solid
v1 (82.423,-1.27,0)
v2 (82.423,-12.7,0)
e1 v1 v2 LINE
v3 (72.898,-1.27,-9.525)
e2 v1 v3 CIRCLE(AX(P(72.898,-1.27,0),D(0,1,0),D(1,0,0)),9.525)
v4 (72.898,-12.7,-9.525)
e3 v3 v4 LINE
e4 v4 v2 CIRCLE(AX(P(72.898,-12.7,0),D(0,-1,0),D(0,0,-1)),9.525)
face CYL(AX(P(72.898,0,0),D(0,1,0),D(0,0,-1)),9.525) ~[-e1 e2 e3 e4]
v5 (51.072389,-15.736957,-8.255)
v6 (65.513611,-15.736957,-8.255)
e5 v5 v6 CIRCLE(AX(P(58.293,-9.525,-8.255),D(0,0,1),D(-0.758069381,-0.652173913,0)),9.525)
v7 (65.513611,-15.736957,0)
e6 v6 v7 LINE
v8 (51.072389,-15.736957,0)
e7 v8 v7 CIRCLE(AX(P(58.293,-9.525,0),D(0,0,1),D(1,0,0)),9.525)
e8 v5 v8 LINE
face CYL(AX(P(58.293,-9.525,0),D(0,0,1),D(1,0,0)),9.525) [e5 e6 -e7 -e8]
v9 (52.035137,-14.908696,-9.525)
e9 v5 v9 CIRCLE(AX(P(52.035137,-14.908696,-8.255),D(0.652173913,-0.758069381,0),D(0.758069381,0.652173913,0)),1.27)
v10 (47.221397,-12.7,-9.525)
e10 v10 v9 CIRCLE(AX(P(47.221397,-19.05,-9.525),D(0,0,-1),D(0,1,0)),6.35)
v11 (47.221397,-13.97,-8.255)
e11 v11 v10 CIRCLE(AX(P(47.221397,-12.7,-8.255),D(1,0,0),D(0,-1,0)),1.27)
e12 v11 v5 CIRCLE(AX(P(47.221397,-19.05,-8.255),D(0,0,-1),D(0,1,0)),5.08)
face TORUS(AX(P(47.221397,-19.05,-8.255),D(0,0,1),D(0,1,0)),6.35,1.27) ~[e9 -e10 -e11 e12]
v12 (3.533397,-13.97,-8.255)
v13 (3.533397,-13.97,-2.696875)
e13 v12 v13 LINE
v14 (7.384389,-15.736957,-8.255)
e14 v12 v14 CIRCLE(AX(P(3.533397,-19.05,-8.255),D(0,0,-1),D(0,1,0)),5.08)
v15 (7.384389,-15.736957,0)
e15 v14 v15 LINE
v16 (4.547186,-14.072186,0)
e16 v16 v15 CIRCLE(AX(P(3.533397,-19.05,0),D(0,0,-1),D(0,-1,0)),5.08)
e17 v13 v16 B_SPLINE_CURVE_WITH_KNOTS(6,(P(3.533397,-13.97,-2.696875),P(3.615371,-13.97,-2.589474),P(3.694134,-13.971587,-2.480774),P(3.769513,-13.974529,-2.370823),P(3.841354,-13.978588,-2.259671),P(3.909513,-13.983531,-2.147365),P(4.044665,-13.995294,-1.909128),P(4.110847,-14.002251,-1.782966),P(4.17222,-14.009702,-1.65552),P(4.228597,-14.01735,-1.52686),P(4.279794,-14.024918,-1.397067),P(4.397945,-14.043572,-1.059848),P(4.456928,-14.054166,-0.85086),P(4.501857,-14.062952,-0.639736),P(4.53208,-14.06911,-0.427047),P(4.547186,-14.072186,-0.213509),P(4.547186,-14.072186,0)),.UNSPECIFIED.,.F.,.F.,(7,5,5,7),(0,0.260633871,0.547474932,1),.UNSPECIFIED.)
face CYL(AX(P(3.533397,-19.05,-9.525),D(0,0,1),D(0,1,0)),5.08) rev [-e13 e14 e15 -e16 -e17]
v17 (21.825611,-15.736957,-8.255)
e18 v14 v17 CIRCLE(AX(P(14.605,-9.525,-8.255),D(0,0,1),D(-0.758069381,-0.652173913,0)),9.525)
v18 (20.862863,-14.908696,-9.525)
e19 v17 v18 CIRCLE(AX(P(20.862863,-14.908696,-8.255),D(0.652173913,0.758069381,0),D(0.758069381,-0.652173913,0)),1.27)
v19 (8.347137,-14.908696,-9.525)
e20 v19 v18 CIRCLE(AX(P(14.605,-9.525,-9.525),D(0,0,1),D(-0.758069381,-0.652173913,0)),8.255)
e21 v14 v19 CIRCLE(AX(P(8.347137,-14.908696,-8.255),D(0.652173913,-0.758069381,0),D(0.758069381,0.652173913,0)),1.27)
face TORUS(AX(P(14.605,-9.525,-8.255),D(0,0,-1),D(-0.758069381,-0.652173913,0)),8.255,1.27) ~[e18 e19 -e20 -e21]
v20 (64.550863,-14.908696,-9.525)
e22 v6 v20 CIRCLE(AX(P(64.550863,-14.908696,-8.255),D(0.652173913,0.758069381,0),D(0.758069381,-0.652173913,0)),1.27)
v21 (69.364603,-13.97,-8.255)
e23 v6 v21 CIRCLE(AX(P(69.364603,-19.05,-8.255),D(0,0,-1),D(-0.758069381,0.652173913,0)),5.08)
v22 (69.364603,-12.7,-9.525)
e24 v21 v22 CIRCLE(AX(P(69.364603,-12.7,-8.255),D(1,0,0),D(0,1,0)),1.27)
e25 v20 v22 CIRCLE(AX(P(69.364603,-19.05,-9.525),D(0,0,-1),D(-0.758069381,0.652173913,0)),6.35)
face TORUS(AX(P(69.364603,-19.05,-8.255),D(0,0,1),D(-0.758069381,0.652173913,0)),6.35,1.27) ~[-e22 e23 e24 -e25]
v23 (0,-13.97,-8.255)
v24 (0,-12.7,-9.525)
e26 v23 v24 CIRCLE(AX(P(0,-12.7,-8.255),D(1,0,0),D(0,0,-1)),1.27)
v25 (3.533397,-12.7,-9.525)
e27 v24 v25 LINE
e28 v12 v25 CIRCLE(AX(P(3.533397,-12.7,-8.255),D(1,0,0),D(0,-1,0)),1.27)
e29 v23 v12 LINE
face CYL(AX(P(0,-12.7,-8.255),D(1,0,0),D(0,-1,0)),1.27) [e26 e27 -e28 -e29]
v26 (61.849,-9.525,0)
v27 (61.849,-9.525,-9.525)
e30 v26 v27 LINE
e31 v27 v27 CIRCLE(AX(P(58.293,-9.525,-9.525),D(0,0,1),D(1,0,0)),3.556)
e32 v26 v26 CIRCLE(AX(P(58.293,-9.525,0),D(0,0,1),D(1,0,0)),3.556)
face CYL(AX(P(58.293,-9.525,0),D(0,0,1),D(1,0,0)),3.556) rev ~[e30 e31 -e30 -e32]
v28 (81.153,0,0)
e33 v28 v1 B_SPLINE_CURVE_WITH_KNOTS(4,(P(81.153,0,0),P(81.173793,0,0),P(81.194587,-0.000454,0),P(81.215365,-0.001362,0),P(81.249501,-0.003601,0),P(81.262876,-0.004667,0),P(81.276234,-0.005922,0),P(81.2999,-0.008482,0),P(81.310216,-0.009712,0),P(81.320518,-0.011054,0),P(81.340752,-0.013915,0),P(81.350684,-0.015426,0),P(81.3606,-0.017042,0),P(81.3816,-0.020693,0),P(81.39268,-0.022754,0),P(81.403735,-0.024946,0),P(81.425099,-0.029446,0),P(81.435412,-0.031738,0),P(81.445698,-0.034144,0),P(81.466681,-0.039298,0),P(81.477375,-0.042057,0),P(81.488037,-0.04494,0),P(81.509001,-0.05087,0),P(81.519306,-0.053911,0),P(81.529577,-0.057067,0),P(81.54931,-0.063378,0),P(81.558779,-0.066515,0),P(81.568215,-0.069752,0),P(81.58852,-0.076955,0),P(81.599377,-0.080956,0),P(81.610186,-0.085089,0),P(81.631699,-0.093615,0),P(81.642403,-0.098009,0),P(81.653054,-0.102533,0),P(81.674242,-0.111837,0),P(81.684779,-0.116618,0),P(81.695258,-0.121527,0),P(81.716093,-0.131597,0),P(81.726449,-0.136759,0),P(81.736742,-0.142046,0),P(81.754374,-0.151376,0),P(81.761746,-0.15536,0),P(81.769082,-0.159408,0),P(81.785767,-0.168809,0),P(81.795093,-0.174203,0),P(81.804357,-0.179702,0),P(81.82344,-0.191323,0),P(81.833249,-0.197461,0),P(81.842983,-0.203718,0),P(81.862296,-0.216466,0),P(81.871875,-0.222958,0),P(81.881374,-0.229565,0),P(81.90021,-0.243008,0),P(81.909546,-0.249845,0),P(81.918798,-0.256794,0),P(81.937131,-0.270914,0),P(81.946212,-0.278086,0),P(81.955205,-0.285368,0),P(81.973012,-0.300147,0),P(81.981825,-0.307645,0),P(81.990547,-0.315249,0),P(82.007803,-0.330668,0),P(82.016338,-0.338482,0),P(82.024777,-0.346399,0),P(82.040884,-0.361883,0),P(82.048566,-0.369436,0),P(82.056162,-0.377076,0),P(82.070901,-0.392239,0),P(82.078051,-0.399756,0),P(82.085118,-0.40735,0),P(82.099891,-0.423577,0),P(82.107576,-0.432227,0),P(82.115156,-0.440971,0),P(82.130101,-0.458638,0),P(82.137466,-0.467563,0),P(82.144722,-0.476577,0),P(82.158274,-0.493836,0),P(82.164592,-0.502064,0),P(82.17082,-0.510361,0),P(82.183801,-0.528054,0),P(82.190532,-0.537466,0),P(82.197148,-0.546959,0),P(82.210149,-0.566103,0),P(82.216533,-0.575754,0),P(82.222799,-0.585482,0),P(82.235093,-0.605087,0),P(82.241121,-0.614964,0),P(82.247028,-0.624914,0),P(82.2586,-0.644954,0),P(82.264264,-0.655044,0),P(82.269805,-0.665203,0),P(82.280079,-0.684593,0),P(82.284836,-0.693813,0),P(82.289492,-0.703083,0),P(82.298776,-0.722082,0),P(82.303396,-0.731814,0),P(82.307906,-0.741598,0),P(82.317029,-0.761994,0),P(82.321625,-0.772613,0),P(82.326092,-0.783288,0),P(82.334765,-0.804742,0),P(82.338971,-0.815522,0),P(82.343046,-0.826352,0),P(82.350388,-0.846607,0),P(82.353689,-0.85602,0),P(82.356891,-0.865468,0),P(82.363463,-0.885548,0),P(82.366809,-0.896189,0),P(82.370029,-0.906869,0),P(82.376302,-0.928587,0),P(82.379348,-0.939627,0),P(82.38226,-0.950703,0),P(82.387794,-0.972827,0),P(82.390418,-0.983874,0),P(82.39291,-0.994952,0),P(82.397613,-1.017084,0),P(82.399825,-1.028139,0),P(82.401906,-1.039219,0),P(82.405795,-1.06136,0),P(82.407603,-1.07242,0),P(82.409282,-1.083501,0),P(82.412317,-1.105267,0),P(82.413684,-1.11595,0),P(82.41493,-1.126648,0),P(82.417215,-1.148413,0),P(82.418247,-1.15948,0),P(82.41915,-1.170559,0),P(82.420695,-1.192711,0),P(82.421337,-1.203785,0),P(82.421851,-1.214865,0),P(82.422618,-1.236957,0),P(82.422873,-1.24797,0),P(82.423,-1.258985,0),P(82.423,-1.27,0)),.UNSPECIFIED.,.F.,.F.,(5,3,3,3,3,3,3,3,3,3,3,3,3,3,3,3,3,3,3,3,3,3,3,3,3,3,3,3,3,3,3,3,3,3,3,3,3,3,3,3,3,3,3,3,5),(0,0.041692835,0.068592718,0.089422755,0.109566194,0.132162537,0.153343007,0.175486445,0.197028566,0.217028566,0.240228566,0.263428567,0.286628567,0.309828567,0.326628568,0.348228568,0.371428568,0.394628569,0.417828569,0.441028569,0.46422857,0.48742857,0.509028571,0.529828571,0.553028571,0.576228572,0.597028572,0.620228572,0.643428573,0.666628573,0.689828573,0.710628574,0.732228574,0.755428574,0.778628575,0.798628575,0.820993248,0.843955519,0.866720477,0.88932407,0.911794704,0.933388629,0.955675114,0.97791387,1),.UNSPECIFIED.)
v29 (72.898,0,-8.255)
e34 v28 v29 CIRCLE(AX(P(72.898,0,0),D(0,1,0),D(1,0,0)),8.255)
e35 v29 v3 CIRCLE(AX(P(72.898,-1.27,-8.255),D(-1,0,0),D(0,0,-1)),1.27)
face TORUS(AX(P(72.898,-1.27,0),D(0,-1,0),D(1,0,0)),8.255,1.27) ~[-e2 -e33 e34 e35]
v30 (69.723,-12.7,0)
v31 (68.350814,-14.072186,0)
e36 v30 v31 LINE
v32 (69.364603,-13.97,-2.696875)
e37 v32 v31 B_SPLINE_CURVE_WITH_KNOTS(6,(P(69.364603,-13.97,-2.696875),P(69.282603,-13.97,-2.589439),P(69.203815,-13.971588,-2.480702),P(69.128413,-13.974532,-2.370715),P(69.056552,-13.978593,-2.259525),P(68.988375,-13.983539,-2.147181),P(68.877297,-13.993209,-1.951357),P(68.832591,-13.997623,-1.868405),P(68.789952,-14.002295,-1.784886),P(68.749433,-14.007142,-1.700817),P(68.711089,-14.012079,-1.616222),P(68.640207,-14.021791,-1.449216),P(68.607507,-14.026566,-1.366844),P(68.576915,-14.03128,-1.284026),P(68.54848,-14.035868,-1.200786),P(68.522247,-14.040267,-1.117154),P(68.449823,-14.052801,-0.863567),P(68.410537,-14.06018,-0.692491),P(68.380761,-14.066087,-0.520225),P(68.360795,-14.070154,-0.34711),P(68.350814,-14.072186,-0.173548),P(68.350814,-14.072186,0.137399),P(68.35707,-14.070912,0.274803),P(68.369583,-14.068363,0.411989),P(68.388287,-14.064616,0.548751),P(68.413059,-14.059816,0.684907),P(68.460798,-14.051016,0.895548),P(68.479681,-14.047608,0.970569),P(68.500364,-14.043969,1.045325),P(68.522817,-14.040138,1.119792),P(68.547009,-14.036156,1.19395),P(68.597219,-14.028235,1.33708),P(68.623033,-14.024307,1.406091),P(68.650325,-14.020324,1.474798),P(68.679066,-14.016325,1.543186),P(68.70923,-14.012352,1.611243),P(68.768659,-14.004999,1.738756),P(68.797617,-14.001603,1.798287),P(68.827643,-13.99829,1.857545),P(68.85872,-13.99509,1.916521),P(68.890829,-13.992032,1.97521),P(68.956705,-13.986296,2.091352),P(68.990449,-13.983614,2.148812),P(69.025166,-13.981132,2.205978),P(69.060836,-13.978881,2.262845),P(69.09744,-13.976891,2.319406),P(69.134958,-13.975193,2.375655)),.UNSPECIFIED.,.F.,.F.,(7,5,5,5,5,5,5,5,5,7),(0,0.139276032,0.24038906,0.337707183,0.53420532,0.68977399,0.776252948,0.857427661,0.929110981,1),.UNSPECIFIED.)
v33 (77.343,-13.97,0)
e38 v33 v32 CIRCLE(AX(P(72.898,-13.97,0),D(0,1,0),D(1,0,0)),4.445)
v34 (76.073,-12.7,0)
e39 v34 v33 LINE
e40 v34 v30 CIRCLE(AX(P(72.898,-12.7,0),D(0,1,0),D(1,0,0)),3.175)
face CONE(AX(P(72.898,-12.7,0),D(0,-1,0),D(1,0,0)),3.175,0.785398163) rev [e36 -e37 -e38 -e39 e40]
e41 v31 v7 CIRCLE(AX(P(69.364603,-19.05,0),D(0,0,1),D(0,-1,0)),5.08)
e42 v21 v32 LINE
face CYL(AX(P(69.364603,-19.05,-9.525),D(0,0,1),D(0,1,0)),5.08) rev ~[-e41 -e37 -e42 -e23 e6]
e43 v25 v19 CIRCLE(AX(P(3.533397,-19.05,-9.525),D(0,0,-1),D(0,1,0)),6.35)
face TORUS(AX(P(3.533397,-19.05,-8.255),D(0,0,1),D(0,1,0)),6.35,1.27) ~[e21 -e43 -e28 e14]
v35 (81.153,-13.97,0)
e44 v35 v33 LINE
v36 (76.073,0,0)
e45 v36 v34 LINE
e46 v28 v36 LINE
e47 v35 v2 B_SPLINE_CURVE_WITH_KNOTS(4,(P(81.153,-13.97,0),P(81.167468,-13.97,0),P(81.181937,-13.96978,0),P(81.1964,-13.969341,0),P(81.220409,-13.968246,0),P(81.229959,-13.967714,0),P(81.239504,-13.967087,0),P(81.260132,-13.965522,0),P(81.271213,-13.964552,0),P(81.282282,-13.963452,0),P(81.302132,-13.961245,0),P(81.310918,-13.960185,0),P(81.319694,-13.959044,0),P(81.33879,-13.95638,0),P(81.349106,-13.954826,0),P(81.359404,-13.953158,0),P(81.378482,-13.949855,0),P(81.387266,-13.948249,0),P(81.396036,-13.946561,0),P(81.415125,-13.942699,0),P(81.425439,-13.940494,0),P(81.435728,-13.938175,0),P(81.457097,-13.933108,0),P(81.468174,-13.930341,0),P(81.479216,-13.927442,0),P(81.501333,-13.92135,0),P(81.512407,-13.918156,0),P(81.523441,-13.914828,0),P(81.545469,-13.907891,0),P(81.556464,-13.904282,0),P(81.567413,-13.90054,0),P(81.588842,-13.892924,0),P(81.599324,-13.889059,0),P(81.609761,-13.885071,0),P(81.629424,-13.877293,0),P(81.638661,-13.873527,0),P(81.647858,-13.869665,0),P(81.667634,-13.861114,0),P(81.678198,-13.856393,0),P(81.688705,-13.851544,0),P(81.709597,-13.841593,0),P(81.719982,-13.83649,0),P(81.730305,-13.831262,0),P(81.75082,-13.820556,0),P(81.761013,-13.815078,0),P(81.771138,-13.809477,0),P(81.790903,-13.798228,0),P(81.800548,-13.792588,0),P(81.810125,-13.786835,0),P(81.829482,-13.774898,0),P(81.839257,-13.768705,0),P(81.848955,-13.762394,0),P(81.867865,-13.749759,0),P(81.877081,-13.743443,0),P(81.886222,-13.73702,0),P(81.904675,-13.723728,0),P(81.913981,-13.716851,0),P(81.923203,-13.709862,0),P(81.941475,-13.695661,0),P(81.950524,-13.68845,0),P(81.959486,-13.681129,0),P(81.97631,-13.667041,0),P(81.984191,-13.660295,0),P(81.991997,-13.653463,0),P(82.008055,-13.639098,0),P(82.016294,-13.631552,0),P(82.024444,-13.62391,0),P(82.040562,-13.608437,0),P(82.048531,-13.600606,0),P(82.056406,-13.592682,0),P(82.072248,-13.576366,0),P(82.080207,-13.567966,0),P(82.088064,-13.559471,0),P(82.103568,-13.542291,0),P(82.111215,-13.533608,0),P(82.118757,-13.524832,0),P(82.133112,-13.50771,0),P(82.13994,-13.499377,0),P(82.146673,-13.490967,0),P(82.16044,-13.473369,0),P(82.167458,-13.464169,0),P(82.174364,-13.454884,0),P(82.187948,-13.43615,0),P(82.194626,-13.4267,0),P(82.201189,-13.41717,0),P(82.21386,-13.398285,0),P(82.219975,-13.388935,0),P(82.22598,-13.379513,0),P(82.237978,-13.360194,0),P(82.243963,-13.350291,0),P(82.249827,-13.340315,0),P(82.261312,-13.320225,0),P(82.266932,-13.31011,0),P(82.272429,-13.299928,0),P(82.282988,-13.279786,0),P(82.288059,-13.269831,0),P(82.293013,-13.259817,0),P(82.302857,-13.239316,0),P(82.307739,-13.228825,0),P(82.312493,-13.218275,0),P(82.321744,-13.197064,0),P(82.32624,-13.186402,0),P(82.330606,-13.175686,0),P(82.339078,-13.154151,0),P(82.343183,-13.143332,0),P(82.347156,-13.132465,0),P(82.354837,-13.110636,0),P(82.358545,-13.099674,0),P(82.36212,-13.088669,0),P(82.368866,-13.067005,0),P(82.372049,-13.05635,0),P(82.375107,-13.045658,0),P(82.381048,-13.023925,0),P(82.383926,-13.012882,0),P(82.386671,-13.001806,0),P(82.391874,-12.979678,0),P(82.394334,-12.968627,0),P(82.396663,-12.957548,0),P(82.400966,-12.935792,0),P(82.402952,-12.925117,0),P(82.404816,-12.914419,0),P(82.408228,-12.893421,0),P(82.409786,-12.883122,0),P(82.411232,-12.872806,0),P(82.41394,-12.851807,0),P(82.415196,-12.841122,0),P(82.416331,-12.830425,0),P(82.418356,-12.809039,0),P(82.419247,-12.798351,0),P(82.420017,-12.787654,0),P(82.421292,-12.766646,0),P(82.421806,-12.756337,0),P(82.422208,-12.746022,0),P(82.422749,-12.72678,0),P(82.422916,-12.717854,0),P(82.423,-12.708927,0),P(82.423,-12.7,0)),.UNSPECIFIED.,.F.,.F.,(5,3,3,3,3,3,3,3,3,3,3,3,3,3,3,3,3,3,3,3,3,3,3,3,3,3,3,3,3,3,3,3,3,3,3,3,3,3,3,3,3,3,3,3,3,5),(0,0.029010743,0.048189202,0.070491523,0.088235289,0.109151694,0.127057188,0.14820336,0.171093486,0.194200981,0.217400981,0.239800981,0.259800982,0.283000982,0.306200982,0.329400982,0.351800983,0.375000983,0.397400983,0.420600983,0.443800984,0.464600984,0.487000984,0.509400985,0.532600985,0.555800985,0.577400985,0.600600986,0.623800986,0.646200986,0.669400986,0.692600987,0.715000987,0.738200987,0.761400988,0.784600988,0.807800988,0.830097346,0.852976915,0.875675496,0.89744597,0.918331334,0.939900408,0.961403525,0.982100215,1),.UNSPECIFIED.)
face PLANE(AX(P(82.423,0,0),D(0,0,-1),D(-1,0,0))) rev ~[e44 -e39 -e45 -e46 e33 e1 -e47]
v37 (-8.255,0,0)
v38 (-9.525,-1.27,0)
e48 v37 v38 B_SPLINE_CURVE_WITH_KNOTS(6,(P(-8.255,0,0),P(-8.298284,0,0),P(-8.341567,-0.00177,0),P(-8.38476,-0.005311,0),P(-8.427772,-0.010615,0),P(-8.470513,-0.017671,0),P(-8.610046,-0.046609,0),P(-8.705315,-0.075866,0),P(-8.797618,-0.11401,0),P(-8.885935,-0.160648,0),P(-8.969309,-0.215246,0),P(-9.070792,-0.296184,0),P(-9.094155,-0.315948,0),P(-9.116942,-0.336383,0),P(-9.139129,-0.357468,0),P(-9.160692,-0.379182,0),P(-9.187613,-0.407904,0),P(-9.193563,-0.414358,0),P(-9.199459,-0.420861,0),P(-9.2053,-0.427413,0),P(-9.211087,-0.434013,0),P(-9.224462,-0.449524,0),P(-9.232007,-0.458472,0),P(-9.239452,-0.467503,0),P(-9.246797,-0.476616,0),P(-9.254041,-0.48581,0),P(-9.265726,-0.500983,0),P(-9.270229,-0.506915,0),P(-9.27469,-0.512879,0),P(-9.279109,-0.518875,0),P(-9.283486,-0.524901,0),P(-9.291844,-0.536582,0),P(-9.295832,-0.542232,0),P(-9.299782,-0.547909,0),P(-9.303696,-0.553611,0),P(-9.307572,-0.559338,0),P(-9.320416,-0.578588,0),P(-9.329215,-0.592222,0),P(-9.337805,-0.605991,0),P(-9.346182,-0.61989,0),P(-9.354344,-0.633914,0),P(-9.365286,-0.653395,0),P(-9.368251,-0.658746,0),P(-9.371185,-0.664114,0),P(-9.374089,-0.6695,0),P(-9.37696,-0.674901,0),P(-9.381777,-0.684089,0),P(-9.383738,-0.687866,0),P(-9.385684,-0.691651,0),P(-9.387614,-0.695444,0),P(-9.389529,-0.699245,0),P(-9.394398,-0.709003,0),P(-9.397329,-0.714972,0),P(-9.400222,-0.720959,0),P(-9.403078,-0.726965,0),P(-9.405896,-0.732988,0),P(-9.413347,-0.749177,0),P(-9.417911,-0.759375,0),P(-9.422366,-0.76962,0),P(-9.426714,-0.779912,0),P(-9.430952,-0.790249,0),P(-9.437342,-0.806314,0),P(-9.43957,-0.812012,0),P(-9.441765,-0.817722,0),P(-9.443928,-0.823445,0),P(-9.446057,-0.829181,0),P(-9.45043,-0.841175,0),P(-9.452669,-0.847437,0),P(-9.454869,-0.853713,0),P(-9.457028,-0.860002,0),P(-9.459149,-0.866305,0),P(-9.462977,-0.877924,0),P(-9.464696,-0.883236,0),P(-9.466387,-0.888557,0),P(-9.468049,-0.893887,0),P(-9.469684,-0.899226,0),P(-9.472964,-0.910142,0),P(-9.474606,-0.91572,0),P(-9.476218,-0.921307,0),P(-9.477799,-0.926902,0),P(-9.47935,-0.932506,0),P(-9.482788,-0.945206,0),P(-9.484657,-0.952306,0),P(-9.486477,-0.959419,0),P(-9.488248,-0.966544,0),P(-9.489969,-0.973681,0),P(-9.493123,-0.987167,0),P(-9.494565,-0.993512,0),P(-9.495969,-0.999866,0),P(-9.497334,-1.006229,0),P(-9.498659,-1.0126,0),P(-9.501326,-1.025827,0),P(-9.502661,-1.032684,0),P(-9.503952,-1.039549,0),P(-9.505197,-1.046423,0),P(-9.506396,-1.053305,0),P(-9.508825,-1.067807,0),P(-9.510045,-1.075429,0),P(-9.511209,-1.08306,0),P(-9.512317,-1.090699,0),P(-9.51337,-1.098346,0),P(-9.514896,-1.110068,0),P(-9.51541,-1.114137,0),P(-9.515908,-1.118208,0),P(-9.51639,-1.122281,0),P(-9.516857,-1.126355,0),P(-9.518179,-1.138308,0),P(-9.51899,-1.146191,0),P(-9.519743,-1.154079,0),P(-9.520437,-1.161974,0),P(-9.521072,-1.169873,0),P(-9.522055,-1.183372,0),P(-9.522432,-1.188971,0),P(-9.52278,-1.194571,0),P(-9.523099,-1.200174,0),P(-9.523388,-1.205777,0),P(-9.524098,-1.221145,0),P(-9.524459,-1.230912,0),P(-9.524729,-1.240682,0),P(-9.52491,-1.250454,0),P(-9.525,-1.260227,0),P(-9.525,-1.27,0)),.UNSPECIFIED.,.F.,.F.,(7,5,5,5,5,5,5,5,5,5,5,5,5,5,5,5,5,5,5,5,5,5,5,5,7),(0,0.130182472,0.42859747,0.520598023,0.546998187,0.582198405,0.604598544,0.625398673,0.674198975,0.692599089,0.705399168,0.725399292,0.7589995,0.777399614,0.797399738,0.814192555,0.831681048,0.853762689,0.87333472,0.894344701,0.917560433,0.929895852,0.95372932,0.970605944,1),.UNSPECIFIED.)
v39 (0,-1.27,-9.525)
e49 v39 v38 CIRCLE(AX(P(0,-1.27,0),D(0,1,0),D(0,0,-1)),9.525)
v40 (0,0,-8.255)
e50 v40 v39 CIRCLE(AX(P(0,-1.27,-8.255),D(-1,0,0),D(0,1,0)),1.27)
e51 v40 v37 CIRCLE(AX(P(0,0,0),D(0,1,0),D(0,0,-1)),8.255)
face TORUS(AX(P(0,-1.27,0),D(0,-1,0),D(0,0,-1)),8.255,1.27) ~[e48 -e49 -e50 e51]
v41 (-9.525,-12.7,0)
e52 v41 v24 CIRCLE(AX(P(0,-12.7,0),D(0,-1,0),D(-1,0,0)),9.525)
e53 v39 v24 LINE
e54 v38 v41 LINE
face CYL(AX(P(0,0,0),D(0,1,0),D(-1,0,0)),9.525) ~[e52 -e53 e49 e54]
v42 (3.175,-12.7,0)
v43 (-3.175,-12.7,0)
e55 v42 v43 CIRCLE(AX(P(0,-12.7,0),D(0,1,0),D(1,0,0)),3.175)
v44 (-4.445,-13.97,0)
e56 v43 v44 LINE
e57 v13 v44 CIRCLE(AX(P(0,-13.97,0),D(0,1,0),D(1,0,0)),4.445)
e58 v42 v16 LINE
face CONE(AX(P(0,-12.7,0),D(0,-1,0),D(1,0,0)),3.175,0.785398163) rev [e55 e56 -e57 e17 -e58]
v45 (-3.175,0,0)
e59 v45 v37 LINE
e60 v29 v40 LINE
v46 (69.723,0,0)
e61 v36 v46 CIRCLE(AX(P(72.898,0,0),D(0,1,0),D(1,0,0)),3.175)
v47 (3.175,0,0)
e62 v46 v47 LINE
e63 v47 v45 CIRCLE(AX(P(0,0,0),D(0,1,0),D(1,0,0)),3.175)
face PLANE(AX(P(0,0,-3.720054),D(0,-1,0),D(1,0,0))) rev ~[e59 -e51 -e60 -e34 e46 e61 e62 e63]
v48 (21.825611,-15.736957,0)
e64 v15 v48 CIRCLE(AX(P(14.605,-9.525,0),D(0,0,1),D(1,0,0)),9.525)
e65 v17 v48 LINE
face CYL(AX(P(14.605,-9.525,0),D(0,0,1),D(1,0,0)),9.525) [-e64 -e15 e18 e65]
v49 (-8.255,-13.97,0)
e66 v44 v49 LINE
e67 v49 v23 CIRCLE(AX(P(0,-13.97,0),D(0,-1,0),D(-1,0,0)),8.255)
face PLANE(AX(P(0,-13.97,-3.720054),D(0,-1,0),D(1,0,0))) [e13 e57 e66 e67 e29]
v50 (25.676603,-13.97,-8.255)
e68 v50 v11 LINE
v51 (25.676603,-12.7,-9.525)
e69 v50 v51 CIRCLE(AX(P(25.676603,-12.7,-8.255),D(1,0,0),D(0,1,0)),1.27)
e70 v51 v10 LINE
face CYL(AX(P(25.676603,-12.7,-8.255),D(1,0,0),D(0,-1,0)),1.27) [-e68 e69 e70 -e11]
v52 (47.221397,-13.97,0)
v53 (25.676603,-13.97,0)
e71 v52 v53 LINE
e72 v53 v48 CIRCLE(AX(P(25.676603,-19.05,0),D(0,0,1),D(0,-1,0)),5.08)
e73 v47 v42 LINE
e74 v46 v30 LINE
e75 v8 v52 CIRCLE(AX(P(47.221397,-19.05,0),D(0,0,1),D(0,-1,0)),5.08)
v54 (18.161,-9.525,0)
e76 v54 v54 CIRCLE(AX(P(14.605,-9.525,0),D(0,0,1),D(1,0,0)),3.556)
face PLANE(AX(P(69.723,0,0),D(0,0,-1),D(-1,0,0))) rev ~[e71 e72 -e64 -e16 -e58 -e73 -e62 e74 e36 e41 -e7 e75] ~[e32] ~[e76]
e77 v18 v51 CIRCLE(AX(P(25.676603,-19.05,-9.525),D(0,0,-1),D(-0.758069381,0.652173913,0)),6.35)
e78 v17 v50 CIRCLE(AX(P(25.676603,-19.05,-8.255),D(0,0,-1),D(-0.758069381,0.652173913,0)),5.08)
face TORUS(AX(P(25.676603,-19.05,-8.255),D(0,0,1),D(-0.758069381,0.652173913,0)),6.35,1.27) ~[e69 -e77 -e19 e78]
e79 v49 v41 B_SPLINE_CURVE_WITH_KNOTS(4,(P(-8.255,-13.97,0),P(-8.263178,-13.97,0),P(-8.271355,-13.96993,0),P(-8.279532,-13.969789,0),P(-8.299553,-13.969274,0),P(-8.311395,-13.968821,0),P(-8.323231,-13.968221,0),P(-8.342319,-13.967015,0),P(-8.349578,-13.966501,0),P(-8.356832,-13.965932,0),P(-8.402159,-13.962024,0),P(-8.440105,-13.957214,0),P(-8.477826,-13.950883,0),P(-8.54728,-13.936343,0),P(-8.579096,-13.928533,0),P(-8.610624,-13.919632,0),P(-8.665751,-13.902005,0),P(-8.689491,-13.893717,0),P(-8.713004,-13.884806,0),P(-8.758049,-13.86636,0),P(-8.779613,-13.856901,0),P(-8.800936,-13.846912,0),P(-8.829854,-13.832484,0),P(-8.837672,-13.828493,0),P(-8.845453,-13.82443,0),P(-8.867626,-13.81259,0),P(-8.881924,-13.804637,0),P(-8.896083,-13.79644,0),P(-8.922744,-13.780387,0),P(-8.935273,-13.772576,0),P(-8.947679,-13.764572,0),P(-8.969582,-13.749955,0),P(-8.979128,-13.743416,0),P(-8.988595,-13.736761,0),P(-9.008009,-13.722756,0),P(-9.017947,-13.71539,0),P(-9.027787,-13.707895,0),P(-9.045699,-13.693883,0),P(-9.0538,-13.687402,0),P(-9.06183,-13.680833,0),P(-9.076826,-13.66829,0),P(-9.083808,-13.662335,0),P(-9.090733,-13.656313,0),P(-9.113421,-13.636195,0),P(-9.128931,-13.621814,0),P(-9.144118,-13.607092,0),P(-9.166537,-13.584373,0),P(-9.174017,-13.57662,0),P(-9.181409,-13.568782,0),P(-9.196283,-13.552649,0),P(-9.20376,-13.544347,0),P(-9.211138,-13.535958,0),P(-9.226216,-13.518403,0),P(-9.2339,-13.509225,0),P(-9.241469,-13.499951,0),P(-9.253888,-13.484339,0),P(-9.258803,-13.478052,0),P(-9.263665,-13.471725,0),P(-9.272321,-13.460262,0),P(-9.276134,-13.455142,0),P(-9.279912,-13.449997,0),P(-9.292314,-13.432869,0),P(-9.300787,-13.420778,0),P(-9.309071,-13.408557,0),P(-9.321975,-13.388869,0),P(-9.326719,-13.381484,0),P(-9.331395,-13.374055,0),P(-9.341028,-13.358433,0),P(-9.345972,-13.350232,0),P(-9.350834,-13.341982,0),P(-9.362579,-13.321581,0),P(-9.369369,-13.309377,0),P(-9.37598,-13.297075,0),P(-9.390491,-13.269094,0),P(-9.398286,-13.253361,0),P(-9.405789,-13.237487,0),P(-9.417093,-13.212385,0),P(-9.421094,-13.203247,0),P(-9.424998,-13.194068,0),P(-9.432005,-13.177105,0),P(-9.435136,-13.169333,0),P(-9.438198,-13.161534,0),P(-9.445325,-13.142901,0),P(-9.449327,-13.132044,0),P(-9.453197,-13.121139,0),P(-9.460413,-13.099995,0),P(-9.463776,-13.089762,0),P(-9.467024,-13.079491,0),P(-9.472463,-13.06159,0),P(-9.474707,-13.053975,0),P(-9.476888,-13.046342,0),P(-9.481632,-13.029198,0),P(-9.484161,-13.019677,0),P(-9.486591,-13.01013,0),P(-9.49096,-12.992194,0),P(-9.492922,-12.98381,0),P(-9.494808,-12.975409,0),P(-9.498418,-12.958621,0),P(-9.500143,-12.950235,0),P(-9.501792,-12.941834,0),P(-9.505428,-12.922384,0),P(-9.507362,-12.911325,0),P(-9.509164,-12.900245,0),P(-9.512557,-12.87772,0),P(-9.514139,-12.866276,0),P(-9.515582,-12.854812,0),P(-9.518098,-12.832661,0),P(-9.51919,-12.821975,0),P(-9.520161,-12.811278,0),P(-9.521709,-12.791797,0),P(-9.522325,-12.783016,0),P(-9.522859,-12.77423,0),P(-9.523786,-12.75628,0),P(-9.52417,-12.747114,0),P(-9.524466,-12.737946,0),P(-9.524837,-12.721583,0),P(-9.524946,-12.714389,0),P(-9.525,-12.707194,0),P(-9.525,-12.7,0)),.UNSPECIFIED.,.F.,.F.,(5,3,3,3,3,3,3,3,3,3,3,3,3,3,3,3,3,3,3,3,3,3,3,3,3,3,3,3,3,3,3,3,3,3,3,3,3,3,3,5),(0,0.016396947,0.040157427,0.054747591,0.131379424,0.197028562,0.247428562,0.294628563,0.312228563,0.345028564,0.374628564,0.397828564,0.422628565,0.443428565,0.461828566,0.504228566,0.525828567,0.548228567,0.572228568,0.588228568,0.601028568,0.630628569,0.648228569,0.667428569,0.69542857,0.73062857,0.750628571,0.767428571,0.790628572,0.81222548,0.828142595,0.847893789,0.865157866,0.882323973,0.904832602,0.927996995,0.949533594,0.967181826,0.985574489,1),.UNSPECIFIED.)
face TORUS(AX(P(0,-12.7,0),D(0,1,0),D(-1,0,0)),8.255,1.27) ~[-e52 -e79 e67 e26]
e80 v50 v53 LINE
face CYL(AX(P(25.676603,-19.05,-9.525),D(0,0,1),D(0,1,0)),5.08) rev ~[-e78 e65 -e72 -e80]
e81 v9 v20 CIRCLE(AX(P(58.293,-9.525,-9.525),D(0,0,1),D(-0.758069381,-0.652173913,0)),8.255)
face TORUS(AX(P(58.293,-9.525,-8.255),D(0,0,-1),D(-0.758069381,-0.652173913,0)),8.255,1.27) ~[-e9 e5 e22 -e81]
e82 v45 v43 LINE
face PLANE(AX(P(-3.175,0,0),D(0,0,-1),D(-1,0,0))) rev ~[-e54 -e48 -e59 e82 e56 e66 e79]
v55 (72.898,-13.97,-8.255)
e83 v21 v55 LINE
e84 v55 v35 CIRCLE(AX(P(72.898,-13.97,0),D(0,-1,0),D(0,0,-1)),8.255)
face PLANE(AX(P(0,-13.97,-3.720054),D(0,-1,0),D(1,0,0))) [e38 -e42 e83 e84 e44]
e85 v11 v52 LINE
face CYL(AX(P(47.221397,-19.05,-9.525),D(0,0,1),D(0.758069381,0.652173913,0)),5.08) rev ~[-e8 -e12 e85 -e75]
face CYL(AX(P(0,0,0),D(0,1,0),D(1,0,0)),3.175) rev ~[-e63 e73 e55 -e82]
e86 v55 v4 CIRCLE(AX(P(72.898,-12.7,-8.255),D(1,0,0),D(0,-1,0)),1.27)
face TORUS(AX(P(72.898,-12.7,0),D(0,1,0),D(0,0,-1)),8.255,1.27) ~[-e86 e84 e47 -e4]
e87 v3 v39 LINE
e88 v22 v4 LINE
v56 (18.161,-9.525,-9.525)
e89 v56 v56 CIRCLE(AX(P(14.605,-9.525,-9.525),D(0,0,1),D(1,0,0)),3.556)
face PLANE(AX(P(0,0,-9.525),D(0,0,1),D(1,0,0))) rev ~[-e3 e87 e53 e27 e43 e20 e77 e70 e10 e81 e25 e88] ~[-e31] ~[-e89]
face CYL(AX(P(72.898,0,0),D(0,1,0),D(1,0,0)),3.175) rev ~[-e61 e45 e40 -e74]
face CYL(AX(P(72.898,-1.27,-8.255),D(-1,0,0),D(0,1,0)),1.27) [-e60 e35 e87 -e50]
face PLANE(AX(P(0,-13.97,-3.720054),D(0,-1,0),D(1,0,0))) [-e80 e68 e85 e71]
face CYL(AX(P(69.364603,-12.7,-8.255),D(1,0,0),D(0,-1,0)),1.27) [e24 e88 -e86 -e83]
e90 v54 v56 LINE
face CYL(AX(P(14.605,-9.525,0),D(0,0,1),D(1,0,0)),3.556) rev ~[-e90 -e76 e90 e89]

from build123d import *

# Parameters (mm, degrees)
F1_DEPTH = 13.97
F2_R     = 9.525
F3_DEPTH = 9.525
F4_R     = 3.556
F5_DEPTH = 9.526
F6_SIZE  = 1.27
F7_R     = 5.08
F8_R     = 1.27


with BuildPart() as f1:
    # F0 (on Front) → F1 (new body)
    with BuildSketch(Plane.XZ):
        with BuildLine():
            ThreePointArc((3.175, 0), (0, -3.175), (-3.175, 0))
            Line((-3.175, 0), (-9.525, 0))
            ThreePointArc((-9.525, 0), (-6.7351920908, -6.7351920908), (0, -9.525))
            ThreePointArc((0, -9.525), (6.7351920908, -6.7351920908), (9.525, 0))
            Line((9.525, 0), (3.175, 0))
        make_face()
        with BuildLine():
            Line((63.373, 0), (9.525, 0))
            ThreePointArc((9.525, 0), (6.7351920908, -6.7351920908), (0, -9.525))
            Line((0, -9.525), (72.898, -9.525))
            ThreePointArc((72.898, -9.525), (66.1628079092, -6.7351920908), (63.373, 0))
        make_face()
        with BuildLine():
            Line((69.723, 0), (63.373, 0))
            ThreePointArc((63.373, 0), (66.1628079092, -6.7351920908), (72.898, -9.525))
            ThreePointArc((72.898, -9.525), (79.6331920908, -6.7351920908), (82.423, 0))
            Line((82.423, 0), (76.073, 0))
            ThreePointArc((76.073, 0), (72.898, -3.175), (69.723, 0))
        make_face()
    extrude(amount=F1_DEPTH)

    # F2 (on face) → F3 (join, through all)
    with BuildSketch(Plane.XY):
        with Locations((14.605, -9.525)):
            Circle(F2_R)
        with Locations((58.293, -9.525)):
            Circle(F2_R)
    extrude(amount=-F3_DEPTH)

    # F4 (on face) → F5 (cut, through all)
    with BuildSketch(Plane.XY):
        with Locations((14.605, -9.525)):
            Circle(F4_R)
        with Locations((58.293, -9.525)):
            Circle(F4_R)
    extrude(amount=-F5_DEPTH, mode=Mode.SUBTRACT)

    # F6
    f6_edges = [f1.edges().sort_by_distance(p)[0] for p in [
        (0, -13.97, -3.175),
        (72.898, -13.97, -3.175),
    ]]
    chamfer(f6_edges, length=F6_SIZE)

    # F7
    f7_edges = [f1.edges().sort_by_distance(p)[0] for p in [
        (6.180773, -13.97, -4.7625),
        (23.029227, -13.97, -4.7625),
        (66.717227, -13.97, -4.7625),
        (49.868773, -13.97, -4.7625),
    ]]
    fillet(f7_edges, radius=F7_R)

    # F8
    f8_edges = [f1.edges().sort_by_distance(p)[0] for p in [
        (36.449, -13.97, -9.525),
        (36.449, 0, -9.525),
    ]]
    fillet(f8_edges, radius=F8_R)


solid = f1.part
